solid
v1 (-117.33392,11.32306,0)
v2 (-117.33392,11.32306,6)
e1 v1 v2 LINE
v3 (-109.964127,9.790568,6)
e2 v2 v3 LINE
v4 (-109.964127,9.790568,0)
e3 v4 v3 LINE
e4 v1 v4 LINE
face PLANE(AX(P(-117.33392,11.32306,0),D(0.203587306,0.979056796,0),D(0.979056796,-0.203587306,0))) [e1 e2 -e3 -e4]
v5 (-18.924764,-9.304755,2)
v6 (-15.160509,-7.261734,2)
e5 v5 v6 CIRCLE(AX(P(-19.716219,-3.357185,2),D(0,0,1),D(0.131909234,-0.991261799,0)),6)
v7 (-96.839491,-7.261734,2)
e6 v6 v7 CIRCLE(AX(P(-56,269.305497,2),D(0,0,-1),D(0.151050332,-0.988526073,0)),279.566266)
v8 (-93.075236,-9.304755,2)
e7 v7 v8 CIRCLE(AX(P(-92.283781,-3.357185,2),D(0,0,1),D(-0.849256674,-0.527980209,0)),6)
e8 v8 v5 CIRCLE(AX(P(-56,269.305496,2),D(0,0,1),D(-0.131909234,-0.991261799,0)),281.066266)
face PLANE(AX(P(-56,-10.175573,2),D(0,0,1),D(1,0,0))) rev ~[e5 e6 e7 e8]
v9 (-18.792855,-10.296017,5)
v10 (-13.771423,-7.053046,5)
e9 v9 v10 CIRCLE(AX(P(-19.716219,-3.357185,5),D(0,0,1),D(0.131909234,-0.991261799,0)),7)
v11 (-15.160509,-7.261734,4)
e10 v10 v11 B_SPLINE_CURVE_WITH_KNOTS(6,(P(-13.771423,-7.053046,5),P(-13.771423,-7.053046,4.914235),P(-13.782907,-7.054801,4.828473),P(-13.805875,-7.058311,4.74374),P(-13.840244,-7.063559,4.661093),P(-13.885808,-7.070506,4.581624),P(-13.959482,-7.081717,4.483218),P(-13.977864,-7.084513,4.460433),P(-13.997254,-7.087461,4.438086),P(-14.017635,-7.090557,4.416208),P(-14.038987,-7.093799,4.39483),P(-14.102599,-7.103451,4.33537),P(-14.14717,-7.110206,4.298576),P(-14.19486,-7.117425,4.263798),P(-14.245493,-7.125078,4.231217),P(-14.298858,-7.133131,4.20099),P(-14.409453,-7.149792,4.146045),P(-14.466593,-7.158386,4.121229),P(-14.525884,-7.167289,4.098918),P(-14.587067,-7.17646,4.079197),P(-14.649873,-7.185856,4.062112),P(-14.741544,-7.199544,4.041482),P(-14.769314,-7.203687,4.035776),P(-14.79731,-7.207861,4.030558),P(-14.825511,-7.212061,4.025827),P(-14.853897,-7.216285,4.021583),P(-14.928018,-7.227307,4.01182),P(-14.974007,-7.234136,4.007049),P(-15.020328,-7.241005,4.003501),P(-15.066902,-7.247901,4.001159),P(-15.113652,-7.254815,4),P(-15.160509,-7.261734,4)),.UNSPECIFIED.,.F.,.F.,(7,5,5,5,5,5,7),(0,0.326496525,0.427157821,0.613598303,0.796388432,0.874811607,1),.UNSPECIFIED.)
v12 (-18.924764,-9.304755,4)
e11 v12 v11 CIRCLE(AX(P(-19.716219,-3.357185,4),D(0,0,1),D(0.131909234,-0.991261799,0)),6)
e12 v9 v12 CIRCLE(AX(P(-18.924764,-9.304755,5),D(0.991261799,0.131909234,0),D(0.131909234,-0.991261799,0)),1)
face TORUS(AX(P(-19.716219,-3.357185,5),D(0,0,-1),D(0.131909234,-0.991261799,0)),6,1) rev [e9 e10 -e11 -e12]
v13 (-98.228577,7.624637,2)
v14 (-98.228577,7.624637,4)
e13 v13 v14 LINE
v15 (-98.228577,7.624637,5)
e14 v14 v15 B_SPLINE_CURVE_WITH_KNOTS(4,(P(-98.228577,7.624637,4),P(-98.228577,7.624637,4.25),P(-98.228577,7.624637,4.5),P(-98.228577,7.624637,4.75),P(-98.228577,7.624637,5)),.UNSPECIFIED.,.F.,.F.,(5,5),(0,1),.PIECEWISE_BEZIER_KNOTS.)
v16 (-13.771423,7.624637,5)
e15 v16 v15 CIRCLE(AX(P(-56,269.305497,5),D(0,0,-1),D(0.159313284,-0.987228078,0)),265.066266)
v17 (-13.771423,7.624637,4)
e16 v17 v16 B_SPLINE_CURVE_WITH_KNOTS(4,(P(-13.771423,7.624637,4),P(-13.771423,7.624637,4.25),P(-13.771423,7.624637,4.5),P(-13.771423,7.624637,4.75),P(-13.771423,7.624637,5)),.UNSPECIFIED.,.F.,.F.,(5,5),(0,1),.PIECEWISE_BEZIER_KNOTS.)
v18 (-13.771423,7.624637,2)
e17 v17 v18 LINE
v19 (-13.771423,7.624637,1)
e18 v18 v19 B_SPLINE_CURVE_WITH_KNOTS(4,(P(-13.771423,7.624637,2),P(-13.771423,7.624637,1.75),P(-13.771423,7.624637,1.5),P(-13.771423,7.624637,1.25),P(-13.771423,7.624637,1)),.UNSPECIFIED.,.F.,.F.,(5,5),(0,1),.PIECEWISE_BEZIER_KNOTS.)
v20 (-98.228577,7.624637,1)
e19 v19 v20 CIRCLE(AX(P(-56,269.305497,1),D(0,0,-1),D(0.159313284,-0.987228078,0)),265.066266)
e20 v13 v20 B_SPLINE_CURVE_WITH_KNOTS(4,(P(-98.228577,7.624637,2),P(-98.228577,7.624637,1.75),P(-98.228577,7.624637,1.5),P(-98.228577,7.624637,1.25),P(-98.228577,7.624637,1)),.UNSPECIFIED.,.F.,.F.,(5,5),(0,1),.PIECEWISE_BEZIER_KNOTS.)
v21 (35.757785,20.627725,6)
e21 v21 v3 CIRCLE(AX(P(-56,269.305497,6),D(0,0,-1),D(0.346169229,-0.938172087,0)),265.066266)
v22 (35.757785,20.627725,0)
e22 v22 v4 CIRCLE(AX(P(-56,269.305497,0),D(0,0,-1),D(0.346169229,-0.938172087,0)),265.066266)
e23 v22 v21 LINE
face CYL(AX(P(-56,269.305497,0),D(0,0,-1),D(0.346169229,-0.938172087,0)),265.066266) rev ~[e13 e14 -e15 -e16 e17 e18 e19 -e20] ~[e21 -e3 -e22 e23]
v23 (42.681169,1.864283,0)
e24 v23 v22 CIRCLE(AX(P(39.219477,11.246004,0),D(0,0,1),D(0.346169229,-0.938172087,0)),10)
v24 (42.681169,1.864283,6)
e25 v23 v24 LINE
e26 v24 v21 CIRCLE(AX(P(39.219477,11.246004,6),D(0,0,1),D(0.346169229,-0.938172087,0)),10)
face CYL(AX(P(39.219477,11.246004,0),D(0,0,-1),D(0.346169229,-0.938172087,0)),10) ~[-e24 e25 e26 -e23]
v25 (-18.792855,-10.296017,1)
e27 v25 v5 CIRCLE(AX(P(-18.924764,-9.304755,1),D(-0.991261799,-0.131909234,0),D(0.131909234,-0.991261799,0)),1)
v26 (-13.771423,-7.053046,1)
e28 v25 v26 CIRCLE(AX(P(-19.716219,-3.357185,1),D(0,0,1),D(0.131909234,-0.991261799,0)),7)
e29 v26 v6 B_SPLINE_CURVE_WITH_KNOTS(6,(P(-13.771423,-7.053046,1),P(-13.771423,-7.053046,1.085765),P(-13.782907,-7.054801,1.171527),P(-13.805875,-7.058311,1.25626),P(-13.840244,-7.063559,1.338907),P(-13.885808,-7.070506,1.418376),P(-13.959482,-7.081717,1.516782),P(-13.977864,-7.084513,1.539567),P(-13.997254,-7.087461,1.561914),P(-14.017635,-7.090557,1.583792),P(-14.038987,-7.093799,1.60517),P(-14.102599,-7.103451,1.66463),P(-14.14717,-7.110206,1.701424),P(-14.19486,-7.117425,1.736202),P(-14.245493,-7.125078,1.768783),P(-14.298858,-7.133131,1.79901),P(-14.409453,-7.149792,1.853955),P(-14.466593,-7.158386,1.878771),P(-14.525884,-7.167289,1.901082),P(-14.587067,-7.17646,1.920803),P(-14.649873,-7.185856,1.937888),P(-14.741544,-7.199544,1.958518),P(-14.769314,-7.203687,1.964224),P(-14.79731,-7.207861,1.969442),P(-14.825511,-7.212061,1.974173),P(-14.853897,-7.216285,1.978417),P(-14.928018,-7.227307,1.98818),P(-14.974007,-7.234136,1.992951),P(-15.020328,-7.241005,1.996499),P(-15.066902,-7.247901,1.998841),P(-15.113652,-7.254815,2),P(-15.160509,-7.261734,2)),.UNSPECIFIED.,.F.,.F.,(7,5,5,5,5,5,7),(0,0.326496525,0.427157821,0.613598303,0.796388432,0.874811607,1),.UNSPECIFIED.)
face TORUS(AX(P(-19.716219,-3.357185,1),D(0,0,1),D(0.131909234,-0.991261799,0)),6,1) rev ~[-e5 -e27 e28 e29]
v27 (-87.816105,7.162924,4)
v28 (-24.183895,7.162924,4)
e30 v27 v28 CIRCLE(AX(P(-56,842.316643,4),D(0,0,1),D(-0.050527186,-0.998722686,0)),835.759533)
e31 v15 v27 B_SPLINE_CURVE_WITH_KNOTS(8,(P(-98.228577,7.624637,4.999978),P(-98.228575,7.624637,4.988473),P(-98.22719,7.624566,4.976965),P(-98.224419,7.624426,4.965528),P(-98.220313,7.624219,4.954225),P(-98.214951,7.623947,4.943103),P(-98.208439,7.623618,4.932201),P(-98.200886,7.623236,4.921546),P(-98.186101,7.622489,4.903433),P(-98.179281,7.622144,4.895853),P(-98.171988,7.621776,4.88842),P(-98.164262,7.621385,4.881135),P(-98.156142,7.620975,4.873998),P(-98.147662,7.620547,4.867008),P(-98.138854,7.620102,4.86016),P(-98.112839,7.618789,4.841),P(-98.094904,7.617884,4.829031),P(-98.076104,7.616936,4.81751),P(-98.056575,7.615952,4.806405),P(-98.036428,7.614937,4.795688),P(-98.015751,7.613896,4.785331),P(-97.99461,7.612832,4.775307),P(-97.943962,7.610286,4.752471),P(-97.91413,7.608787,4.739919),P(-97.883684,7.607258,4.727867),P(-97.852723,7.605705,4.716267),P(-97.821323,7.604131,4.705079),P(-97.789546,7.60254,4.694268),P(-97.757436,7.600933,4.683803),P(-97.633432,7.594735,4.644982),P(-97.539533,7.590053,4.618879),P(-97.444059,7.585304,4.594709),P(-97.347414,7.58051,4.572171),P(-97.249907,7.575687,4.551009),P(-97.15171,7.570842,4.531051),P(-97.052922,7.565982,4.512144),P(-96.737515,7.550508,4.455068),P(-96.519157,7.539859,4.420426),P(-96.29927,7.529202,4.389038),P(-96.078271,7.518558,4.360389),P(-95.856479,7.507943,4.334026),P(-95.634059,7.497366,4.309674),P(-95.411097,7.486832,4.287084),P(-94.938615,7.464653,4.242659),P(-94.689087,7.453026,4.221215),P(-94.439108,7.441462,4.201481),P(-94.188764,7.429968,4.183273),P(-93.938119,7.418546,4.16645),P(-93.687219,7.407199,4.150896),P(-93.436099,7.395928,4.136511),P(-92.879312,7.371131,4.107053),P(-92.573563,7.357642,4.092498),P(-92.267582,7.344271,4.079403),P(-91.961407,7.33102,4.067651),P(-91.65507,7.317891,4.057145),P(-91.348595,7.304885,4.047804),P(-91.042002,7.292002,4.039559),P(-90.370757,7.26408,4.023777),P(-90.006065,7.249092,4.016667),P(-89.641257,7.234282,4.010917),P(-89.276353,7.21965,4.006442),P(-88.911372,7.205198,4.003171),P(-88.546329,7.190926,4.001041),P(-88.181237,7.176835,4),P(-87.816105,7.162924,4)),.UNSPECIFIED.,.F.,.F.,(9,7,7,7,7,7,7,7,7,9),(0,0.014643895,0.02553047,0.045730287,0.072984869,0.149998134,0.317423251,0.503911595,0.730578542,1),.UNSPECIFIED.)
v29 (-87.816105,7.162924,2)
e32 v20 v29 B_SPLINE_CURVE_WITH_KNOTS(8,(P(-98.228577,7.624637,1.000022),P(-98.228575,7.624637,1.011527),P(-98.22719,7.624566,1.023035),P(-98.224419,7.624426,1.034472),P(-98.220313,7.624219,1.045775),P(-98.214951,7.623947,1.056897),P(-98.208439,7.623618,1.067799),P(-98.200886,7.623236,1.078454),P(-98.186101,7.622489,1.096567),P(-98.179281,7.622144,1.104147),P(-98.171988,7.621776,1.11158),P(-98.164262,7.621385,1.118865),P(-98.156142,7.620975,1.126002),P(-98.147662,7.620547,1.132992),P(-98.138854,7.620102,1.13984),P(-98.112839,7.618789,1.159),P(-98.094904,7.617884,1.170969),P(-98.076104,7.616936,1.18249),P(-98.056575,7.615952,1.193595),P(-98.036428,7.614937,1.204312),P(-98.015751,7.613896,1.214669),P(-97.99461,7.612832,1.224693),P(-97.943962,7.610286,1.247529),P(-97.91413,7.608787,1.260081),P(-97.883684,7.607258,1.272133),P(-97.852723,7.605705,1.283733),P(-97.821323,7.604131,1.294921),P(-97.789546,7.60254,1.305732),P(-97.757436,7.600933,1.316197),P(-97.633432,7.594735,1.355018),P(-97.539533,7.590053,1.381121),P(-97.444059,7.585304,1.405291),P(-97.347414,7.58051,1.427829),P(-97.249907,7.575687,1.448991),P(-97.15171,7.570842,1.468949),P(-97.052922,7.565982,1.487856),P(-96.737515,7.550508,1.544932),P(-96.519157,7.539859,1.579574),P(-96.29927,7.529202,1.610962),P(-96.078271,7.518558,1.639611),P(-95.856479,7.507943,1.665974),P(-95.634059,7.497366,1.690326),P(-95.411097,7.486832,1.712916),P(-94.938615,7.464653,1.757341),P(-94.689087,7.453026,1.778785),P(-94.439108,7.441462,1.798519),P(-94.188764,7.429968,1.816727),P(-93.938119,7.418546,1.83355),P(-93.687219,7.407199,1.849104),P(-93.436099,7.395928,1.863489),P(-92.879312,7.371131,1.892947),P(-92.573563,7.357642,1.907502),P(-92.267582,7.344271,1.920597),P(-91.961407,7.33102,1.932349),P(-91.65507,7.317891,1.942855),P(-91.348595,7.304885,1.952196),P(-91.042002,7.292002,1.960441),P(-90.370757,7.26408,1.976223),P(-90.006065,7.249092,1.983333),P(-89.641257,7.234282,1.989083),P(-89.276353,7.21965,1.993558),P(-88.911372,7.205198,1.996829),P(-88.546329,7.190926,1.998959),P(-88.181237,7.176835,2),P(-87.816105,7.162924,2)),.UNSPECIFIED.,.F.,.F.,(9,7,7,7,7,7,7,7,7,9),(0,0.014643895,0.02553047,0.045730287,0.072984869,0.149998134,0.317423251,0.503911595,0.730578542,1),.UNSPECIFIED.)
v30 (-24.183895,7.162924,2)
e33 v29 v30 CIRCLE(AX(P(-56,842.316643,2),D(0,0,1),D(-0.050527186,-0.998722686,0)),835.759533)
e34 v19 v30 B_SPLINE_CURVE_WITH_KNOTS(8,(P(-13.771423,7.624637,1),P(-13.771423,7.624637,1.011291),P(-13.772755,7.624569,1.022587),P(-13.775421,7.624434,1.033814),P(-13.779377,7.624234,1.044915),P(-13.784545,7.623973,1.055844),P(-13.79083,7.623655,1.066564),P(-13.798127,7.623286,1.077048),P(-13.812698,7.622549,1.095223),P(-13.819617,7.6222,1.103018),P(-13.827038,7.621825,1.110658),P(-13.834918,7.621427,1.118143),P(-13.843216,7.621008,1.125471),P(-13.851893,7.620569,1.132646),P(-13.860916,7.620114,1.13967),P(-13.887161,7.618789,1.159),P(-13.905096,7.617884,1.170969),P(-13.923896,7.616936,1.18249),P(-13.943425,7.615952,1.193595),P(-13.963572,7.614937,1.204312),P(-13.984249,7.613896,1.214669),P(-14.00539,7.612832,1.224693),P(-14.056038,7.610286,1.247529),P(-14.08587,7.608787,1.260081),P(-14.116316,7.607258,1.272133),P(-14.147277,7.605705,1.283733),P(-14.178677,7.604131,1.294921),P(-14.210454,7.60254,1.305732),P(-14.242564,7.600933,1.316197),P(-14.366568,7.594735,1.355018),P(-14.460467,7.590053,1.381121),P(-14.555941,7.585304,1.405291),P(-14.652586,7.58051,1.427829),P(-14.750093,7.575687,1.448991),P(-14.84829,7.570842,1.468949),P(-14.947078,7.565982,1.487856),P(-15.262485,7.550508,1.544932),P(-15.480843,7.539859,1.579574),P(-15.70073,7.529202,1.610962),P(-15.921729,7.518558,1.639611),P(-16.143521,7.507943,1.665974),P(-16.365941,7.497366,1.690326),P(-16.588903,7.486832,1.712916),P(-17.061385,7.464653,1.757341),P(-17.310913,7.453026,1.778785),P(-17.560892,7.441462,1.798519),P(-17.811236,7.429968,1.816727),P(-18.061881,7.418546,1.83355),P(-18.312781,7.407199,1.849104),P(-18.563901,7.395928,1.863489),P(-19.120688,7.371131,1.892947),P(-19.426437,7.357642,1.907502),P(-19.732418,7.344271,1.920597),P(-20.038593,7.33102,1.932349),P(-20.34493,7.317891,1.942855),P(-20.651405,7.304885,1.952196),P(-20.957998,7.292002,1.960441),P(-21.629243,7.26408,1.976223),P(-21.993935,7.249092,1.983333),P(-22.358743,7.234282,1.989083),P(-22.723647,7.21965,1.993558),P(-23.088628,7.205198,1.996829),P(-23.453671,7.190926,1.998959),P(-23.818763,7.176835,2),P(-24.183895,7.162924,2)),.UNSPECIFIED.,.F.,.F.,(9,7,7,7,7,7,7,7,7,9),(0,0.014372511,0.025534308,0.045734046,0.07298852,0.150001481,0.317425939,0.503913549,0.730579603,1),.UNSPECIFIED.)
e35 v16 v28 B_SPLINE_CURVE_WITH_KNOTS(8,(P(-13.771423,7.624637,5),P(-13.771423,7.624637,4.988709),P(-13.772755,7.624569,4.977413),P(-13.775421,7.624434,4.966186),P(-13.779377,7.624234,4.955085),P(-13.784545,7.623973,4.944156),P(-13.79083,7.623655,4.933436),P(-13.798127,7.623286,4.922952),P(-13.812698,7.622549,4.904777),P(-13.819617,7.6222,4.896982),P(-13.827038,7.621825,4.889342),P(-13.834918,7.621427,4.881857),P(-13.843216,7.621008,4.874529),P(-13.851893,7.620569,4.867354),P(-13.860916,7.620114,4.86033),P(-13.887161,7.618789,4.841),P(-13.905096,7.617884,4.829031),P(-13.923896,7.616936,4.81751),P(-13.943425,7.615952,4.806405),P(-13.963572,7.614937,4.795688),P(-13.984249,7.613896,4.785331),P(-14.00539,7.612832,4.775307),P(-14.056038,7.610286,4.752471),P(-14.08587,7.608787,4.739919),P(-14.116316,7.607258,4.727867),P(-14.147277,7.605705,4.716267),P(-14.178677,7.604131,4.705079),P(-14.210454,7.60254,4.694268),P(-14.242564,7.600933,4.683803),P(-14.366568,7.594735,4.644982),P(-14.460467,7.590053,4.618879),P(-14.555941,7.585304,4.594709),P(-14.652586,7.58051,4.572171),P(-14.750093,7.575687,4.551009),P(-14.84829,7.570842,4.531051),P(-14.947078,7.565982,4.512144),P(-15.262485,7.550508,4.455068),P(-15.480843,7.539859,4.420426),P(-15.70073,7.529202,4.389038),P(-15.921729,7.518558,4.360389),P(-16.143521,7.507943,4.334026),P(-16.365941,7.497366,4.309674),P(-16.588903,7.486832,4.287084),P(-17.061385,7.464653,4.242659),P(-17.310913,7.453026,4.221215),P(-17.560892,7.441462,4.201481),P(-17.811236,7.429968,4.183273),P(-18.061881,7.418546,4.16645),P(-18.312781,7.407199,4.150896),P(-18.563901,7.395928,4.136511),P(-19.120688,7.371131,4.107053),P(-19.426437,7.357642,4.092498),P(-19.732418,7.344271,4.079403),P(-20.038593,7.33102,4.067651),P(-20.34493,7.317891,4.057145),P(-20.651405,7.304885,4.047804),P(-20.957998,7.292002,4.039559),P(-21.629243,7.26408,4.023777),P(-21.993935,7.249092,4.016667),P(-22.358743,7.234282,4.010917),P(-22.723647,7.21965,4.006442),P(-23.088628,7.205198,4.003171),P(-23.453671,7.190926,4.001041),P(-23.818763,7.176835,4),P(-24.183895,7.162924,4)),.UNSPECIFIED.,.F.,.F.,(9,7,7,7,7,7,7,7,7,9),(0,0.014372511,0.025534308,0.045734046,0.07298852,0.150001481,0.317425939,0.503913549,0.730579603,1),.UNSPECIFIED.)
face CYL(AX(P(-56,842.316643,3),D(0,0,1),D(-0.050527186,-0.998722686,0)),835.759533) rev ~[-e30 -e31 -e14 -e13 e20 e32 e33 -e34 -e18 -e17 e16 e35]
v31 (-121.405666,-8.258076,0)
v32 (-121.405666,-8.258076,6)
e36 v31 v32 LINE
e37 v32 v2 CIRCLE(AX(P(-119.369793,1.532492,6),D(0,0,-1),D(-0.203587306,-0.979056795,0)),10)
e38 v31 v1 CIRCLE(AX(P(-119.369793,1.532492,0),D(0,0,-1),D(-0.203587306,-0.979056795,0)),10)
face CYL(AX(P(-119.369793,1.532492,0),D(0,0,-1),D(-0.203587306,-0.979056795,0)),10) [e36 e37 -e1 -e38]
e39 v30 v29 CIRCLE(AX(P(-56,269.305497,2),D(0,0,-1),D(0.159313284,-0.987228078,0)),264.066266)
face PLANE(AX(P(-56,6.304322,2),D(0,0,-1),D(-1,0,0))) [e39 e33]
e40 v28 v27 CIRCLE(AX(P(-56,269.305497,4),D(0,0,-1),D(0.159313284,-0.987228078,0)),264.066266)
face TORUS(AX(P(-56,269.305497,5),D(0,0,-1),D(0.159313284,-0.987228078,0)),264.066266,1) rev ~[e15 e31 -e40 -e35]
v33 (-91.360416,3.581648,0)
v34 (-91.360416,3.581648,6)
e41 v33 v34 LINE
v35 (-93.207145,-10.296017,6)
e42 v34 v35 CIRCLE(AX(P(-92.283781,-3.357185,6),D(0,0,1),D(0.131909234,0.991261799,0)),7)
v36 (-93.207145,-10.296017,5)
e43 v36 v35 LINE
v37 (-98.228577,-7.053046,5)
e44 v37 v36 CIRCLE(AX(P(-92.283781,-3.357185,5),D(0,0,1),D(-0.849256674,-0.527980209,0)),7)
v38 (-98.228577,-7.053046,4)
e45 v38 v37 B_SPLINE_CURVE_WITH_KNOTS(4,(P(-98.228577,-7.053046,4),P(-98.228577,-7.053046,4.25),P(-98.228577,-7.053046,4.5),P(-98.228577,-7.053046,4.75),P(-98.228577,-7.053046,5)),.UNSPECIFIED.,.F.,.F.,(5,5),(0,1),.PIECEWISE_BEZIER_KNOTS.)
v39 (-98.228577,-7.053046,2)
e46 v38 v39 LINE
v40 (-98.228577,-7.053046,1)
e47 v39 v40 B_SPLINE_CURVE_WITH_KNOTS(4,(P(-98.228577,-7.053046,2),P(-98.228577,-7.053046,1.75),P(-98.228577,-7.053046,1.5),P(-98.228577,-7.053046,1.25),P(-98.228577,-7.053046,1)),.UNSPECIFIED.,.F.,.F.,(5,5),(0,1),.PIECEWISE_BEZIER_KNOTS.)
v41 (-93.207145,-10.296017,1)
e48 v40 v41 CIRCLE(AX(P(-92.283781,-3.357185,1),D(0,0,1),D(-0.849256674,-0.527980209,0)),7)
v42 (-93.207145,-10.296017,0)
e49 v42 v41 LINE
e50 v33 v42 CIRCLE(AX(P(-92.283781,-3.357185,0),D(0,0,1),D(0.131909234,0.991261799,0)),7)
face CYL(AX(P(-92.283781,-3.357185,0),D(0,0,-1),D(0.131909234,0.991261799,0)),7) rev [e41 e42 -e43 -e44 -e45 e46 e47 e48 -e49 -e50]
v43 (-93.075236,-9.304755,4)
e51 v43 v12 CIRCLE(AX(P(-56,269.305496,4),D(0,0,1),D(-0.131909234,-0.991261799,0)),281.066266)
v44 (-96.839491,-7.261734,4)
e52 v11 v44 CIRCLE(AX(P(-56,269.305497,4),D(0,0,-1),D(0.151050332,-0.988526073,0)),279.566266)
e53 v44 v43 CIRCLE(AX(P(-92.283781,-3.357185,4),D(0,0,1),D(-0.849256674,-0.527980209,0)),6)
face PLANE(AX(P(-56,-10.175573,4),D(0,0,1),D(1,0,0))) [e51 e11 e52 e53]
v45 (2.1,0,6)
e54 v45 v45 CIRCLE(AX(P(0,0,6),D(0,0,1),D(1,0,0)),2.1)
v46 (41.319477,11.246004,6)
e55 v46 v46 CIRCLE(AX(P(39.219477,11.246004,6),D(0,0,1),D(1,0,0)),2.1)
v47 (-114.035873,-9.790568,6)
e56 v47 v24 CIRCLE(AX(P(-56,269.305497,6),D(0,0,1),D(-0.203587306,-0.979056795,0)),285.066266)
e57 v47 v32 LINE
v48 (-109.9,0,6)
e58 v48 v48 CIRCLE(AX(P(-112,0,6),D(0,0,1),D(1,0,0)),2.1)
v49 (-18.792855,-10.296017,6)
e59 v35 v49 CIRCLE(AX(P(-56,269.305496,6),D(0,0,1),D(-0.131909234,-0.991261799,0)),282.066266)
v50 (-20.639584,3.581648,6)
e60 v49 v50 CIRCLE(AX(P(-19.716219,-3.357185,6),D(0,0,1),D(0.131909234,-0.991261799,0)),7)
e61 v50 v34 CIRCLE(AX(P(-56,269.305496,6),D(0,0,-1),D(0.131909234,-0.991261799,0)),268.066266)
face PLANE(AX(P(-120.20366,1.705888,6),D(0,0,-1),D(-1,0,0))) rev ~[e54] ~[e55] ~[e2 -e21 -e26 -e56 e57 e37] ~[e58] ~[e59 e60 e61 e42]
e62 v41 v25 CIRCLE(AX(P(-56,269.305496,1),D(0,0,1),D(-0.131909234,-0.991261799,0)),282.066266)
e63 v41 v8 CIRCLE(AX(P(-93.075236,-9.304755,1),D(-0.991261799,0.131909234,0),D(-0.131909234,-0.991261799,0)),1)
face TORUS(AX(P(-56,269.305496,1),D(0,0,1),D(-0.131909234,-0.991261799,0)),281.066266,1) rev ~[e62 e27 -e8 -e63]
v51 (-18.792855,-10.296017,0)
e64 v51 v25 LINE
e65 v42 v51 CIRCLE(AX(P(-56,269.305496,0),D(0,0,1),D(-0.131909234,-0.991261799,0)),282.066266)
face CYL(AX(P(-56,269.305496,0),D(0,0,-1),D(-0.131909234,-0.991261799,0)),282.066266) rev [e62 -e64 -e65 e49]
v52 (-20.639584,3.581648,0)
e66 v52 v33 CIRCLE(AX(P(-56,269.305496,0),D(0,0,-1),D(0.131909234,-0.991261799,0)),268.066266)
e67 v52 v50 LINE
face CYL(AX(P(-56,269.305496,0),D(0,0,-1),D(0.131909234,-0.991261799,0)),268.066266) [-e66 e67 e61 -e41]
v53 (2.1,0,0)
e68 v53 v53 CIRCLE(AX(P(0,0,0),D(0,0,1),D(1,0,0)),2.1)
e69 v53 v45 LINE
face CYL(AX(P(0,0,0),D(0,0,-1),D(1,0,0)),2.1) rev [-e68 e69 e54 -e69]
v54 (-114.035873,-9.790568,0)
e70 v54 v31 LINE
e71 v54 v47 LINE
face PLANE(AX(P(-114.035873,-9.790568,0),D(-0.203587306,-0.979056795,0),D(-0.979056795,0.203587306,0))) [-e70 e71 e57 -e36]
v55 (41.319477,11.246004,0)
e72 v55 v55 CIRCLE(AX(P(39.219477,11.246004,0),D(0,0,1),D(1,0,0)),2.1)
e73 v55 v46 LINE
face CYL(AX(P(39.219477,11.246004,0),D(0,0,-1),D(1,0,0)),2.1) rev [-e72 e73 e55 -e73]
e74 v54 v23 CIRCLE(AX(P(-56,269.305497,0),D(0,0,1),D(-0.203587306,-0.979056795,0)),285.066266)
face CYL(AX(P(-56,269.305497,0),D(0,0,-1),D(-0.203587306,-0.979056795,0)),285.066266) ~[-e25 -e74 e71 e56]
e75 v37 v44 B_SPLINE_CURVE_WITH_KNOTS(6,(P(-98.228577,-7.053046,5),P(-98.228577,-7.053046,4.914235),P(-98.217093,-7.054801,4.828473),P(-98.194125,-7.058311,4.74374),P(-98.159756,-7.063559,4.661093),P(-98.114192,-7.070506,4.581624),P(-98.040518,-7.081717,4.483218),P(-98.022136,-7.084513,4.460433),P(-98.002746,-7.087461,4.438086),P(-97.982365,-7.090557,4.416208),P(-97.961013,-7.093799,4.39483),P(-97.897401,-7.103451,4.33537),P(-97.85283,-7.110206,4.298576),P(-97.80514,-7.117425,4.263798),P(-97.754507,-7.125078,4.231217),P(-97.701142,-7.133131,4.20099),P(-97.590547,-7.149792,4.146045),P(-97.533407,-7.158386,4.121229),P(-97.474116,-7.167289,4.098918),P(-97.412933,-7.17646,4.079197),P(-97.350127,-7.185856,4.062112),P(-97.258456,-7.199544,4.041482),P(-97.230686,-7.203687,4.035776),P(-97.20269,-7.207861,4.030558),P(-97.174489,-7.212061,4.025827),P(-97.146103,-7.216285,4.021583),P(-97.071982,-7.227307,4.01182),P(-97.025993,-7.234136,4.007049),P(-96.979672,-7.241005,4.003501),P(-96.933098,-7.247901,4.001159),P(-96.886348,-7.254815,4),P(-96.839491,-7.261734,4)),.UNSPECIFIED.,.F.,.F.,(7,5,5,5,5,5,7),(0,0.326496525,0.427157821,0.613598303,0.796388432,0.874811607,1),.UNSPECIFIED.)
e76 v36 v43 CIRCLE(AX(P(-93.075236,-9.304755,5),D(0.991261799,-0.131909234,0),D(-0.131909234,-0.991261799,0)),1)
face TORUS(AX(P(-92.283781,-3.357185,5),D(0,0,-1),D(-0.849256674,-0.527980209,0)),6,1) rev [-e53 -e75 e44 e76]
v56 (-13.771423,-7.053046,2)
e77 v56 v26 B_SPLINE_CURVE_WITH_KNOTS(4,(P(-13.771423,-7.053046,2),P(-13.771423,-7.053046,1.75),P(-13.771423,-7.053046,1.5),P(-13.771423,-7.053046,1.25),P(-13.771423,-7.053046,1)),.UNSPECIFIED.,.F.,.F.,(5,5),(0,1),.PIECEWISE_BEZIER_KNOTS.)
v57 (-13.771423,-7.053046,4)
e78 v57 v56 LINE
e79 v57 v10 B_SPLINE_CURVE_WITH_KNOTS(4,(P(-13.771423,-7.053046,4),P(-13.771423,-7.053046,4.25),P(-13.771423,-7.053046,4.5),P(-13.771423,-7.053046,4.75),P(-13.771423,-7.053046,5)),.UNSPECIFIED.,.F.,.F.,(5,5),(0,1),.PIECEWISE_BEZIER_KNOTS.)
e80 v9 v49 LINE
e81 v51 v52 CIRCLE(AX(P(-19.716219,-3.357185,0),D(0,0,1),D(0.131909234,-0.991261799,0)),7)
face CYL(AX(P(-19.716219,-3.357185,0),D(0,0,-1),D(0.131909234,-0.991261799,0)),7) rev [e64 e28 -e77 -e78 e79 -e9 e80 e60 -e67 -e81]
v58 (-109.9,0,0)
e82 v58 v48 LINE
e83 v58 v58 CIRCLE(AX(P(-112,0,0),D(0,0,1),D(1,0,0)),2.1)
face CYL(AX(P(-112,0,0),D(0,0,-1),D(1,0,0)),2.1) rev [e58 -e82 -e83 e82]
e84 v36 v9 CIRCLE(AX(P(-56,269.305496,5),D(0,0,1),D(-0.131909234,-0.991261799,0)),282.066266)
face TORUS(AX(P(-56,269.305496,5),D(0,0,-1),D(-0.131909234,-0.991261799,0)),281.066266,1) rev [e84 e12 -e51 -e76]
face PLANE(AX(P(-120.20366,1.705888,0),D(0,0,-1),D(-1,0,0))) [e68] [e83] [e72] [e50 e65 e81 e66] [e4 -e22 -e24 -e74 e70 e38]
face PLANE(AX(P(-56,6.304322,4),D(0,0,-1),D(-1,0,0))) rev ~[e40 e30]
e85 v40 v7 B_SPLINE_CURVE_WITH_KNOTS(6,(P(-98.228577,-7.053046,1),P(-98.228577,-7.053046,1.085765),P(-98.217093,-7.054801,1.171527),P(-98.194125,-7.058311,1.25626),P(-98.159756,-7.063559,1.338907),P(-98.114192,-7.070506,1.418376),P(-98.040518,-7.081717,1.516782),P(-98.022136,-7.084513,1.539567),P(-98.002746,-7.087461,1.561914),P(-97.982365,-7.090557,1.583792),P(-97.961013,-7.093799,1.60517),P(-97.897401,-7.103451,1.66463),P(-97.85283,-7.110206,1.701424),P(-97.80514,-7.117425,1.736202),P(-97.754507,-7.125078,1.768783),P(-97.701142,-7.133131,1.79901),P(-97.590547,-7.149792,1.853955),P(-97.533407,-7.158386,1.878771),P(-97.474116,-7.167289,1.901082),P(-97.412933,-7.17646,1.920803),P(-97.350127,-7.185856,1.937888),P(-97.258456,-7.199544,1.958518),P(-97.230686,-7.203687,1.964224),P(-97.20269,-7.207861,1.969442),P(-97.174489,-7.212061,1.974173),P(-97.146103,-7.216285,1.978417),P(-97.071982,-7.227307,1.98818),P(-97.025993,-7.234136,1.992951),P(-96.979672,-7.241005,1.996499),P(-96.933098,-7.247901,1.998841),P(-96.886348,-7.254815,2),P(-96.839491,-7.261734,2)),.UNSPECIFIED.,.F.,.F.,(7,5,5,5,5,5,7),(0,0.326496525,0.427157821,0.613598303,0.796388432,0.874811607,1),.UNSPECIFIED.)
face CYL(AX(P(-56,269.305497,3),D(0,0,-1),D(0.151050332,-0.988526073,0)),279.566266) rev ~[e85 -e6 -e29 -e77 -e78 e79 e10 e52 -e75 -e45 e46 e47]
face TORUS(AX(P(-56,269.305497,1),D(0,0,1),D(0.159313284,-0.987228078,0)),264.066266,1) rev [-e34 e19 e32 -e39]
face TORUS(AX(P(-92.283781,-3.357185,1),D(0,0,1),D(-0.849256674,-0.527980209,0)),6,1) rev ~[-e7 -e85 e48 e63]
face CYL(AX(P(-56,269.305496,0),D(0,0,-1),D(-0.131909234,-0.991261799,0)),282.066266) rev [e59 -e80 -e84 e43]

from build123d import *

# Parameters (mm, degrees)
CROQUIS1_R              = 2.1
SALIENTE_EXTRUIR1_DEPTH = 6
SALIENTE_EXTRUIR3_DEPTH = 1
REDONDEO2_R             = 1
SALIENTE_EXTRUIR5_DEPTH = 6


with BuildPart() as part:
    # Croquis1 → Saliente-Extruir1 (new body)
    with BuildSketch(Plane.XY):
        with BuildLine():
            ThreePointArc((-114.035873061, -9.790567955), (-34.858360528, -14.975714339), (42.681169488, 1.864283248))
            ThreePointArc((42.681169488, 1.864283248), (48.601198063, 14.707696411), (35.7577849, 20.627724986))
            ThreePointArc((35.7577849, 20.627724986), (-36.341639472, 4.969206908), (-109.964126939, 9.790567955))
            ThreePointArc((-109.964126939, 9.790567955), (-121.790567955, 2.035873061), (-114.035873061, -9.790567955))
        make_face()
        with Locations((-112, 0)):
            Circle(CROQUIS1_R, mode=Mode.SUBTRACT)
        with Locations((39.219477194, 11.246004117)):
            Circle(CROQUIS1_R, mode=Mode.SUBTRACT)
        Circle(CROQUIS1_R, mode=Mode.SUBTRACT)
        with BuildLine():
            ThreePointArc((-18.792854848, -10.296017287), (-12.777386897, -2.433820054), (-20.63958413, 3.581647897))
            ThreePointArc((-20.63958413, 3.581647897), (-56, 1.239230948), (-91.36041587, 3.581647897))
            ThreePointArc((-91.36041587, 3.581647897), (-99.222613103, -2.433820054), (-93.207145152, -10.296017287))
            ThreePointArc((-93.207145152, -10.296017287), (-56, -12.760769052), (-18.792854848, -10.296017287))
        make_face(mode=Mode.SUBTRACT)
    extrude(amount=SALIENTE_EXTRUIR1_DEPTH)

    # Croquis3 → Saliente-Extruir3 (add, symmetric)
    with BuildSketch(Plane.XY.offset(3)):
        with BuildLine():
            ThreePointArc((-98.228577232, -7.053046158), (-96.081427883, -9.237480134), (-93.207145152, -10.296017287))
            ThreePointArc((-93.207145152, -10.296017287), (-56, -12.760769052), (-18.792854848, -10.296017287))
            ThreePointArc((-18.792854848, -10.296017287), (-15.918572117, -9.237480134), (-13.771422768, -7.053046158))
            ThreePointArc((-13.771422768, -7.053046158), (-56, -10.260769052), (-98.228577232, -7.053046158))
        make_face()
        with BuildLine():
            ThreePointArc((-98.228577232, 7.624636675), (-56, 6.557109307), (-13.771422768, 7.624636675))
            ThreePointArc((-13.771422768, 7.624636675), (-56, 4.239230948), (-98.228577232, 7.624636675))
        make_face()
    extrude(amount=SALIENTE_EXTRUIR3_DEPTH, both=True)

    # Redondeo2
    redondeo2_edges = [part.edges().sort_by_distance(p)[0] for p in [
        (-96.081427883, -9.237480134, 2),
        (-56, -12.760769052, 2),
        (-15.918572117, -9.237480134, 2),
        (-96.081427883, -9.237480134, 4),
        (-56, -12.760769052, 4),
        (-15.918572117, -9.237480134, 4),
        (-56, 4.239230948, 2),
        (-56, 4.239230948, 4),
    ]]
    fillet(redondeo2_edges, radius=REDONDEO2_R)

    # Croquis1<3> → Saliente-Extruir5 (add)
    with BuildSketch(Plane.XY):
        with BuildLine():
            ThreePointArc((-121.405666345, -8.258076308), (-129.160361239, 3.568364708), (-117.333920224, 11.323059602))
            Line((-117.333920224, 11.323059602), (-109.964126939, 9.790567955))
            ThreePointArc((-109.964126939, 9.790567955), (-121.790567955, 2.035873061), (-114.035873061, -9.790567955))
            Line((-114.035873061, -9.790567955), (-121.405666345, -8.258076308))
        make_face()
    extrude(amount=SALIENTE_EXTRUIR5_DEPTH)


solid = part.part
